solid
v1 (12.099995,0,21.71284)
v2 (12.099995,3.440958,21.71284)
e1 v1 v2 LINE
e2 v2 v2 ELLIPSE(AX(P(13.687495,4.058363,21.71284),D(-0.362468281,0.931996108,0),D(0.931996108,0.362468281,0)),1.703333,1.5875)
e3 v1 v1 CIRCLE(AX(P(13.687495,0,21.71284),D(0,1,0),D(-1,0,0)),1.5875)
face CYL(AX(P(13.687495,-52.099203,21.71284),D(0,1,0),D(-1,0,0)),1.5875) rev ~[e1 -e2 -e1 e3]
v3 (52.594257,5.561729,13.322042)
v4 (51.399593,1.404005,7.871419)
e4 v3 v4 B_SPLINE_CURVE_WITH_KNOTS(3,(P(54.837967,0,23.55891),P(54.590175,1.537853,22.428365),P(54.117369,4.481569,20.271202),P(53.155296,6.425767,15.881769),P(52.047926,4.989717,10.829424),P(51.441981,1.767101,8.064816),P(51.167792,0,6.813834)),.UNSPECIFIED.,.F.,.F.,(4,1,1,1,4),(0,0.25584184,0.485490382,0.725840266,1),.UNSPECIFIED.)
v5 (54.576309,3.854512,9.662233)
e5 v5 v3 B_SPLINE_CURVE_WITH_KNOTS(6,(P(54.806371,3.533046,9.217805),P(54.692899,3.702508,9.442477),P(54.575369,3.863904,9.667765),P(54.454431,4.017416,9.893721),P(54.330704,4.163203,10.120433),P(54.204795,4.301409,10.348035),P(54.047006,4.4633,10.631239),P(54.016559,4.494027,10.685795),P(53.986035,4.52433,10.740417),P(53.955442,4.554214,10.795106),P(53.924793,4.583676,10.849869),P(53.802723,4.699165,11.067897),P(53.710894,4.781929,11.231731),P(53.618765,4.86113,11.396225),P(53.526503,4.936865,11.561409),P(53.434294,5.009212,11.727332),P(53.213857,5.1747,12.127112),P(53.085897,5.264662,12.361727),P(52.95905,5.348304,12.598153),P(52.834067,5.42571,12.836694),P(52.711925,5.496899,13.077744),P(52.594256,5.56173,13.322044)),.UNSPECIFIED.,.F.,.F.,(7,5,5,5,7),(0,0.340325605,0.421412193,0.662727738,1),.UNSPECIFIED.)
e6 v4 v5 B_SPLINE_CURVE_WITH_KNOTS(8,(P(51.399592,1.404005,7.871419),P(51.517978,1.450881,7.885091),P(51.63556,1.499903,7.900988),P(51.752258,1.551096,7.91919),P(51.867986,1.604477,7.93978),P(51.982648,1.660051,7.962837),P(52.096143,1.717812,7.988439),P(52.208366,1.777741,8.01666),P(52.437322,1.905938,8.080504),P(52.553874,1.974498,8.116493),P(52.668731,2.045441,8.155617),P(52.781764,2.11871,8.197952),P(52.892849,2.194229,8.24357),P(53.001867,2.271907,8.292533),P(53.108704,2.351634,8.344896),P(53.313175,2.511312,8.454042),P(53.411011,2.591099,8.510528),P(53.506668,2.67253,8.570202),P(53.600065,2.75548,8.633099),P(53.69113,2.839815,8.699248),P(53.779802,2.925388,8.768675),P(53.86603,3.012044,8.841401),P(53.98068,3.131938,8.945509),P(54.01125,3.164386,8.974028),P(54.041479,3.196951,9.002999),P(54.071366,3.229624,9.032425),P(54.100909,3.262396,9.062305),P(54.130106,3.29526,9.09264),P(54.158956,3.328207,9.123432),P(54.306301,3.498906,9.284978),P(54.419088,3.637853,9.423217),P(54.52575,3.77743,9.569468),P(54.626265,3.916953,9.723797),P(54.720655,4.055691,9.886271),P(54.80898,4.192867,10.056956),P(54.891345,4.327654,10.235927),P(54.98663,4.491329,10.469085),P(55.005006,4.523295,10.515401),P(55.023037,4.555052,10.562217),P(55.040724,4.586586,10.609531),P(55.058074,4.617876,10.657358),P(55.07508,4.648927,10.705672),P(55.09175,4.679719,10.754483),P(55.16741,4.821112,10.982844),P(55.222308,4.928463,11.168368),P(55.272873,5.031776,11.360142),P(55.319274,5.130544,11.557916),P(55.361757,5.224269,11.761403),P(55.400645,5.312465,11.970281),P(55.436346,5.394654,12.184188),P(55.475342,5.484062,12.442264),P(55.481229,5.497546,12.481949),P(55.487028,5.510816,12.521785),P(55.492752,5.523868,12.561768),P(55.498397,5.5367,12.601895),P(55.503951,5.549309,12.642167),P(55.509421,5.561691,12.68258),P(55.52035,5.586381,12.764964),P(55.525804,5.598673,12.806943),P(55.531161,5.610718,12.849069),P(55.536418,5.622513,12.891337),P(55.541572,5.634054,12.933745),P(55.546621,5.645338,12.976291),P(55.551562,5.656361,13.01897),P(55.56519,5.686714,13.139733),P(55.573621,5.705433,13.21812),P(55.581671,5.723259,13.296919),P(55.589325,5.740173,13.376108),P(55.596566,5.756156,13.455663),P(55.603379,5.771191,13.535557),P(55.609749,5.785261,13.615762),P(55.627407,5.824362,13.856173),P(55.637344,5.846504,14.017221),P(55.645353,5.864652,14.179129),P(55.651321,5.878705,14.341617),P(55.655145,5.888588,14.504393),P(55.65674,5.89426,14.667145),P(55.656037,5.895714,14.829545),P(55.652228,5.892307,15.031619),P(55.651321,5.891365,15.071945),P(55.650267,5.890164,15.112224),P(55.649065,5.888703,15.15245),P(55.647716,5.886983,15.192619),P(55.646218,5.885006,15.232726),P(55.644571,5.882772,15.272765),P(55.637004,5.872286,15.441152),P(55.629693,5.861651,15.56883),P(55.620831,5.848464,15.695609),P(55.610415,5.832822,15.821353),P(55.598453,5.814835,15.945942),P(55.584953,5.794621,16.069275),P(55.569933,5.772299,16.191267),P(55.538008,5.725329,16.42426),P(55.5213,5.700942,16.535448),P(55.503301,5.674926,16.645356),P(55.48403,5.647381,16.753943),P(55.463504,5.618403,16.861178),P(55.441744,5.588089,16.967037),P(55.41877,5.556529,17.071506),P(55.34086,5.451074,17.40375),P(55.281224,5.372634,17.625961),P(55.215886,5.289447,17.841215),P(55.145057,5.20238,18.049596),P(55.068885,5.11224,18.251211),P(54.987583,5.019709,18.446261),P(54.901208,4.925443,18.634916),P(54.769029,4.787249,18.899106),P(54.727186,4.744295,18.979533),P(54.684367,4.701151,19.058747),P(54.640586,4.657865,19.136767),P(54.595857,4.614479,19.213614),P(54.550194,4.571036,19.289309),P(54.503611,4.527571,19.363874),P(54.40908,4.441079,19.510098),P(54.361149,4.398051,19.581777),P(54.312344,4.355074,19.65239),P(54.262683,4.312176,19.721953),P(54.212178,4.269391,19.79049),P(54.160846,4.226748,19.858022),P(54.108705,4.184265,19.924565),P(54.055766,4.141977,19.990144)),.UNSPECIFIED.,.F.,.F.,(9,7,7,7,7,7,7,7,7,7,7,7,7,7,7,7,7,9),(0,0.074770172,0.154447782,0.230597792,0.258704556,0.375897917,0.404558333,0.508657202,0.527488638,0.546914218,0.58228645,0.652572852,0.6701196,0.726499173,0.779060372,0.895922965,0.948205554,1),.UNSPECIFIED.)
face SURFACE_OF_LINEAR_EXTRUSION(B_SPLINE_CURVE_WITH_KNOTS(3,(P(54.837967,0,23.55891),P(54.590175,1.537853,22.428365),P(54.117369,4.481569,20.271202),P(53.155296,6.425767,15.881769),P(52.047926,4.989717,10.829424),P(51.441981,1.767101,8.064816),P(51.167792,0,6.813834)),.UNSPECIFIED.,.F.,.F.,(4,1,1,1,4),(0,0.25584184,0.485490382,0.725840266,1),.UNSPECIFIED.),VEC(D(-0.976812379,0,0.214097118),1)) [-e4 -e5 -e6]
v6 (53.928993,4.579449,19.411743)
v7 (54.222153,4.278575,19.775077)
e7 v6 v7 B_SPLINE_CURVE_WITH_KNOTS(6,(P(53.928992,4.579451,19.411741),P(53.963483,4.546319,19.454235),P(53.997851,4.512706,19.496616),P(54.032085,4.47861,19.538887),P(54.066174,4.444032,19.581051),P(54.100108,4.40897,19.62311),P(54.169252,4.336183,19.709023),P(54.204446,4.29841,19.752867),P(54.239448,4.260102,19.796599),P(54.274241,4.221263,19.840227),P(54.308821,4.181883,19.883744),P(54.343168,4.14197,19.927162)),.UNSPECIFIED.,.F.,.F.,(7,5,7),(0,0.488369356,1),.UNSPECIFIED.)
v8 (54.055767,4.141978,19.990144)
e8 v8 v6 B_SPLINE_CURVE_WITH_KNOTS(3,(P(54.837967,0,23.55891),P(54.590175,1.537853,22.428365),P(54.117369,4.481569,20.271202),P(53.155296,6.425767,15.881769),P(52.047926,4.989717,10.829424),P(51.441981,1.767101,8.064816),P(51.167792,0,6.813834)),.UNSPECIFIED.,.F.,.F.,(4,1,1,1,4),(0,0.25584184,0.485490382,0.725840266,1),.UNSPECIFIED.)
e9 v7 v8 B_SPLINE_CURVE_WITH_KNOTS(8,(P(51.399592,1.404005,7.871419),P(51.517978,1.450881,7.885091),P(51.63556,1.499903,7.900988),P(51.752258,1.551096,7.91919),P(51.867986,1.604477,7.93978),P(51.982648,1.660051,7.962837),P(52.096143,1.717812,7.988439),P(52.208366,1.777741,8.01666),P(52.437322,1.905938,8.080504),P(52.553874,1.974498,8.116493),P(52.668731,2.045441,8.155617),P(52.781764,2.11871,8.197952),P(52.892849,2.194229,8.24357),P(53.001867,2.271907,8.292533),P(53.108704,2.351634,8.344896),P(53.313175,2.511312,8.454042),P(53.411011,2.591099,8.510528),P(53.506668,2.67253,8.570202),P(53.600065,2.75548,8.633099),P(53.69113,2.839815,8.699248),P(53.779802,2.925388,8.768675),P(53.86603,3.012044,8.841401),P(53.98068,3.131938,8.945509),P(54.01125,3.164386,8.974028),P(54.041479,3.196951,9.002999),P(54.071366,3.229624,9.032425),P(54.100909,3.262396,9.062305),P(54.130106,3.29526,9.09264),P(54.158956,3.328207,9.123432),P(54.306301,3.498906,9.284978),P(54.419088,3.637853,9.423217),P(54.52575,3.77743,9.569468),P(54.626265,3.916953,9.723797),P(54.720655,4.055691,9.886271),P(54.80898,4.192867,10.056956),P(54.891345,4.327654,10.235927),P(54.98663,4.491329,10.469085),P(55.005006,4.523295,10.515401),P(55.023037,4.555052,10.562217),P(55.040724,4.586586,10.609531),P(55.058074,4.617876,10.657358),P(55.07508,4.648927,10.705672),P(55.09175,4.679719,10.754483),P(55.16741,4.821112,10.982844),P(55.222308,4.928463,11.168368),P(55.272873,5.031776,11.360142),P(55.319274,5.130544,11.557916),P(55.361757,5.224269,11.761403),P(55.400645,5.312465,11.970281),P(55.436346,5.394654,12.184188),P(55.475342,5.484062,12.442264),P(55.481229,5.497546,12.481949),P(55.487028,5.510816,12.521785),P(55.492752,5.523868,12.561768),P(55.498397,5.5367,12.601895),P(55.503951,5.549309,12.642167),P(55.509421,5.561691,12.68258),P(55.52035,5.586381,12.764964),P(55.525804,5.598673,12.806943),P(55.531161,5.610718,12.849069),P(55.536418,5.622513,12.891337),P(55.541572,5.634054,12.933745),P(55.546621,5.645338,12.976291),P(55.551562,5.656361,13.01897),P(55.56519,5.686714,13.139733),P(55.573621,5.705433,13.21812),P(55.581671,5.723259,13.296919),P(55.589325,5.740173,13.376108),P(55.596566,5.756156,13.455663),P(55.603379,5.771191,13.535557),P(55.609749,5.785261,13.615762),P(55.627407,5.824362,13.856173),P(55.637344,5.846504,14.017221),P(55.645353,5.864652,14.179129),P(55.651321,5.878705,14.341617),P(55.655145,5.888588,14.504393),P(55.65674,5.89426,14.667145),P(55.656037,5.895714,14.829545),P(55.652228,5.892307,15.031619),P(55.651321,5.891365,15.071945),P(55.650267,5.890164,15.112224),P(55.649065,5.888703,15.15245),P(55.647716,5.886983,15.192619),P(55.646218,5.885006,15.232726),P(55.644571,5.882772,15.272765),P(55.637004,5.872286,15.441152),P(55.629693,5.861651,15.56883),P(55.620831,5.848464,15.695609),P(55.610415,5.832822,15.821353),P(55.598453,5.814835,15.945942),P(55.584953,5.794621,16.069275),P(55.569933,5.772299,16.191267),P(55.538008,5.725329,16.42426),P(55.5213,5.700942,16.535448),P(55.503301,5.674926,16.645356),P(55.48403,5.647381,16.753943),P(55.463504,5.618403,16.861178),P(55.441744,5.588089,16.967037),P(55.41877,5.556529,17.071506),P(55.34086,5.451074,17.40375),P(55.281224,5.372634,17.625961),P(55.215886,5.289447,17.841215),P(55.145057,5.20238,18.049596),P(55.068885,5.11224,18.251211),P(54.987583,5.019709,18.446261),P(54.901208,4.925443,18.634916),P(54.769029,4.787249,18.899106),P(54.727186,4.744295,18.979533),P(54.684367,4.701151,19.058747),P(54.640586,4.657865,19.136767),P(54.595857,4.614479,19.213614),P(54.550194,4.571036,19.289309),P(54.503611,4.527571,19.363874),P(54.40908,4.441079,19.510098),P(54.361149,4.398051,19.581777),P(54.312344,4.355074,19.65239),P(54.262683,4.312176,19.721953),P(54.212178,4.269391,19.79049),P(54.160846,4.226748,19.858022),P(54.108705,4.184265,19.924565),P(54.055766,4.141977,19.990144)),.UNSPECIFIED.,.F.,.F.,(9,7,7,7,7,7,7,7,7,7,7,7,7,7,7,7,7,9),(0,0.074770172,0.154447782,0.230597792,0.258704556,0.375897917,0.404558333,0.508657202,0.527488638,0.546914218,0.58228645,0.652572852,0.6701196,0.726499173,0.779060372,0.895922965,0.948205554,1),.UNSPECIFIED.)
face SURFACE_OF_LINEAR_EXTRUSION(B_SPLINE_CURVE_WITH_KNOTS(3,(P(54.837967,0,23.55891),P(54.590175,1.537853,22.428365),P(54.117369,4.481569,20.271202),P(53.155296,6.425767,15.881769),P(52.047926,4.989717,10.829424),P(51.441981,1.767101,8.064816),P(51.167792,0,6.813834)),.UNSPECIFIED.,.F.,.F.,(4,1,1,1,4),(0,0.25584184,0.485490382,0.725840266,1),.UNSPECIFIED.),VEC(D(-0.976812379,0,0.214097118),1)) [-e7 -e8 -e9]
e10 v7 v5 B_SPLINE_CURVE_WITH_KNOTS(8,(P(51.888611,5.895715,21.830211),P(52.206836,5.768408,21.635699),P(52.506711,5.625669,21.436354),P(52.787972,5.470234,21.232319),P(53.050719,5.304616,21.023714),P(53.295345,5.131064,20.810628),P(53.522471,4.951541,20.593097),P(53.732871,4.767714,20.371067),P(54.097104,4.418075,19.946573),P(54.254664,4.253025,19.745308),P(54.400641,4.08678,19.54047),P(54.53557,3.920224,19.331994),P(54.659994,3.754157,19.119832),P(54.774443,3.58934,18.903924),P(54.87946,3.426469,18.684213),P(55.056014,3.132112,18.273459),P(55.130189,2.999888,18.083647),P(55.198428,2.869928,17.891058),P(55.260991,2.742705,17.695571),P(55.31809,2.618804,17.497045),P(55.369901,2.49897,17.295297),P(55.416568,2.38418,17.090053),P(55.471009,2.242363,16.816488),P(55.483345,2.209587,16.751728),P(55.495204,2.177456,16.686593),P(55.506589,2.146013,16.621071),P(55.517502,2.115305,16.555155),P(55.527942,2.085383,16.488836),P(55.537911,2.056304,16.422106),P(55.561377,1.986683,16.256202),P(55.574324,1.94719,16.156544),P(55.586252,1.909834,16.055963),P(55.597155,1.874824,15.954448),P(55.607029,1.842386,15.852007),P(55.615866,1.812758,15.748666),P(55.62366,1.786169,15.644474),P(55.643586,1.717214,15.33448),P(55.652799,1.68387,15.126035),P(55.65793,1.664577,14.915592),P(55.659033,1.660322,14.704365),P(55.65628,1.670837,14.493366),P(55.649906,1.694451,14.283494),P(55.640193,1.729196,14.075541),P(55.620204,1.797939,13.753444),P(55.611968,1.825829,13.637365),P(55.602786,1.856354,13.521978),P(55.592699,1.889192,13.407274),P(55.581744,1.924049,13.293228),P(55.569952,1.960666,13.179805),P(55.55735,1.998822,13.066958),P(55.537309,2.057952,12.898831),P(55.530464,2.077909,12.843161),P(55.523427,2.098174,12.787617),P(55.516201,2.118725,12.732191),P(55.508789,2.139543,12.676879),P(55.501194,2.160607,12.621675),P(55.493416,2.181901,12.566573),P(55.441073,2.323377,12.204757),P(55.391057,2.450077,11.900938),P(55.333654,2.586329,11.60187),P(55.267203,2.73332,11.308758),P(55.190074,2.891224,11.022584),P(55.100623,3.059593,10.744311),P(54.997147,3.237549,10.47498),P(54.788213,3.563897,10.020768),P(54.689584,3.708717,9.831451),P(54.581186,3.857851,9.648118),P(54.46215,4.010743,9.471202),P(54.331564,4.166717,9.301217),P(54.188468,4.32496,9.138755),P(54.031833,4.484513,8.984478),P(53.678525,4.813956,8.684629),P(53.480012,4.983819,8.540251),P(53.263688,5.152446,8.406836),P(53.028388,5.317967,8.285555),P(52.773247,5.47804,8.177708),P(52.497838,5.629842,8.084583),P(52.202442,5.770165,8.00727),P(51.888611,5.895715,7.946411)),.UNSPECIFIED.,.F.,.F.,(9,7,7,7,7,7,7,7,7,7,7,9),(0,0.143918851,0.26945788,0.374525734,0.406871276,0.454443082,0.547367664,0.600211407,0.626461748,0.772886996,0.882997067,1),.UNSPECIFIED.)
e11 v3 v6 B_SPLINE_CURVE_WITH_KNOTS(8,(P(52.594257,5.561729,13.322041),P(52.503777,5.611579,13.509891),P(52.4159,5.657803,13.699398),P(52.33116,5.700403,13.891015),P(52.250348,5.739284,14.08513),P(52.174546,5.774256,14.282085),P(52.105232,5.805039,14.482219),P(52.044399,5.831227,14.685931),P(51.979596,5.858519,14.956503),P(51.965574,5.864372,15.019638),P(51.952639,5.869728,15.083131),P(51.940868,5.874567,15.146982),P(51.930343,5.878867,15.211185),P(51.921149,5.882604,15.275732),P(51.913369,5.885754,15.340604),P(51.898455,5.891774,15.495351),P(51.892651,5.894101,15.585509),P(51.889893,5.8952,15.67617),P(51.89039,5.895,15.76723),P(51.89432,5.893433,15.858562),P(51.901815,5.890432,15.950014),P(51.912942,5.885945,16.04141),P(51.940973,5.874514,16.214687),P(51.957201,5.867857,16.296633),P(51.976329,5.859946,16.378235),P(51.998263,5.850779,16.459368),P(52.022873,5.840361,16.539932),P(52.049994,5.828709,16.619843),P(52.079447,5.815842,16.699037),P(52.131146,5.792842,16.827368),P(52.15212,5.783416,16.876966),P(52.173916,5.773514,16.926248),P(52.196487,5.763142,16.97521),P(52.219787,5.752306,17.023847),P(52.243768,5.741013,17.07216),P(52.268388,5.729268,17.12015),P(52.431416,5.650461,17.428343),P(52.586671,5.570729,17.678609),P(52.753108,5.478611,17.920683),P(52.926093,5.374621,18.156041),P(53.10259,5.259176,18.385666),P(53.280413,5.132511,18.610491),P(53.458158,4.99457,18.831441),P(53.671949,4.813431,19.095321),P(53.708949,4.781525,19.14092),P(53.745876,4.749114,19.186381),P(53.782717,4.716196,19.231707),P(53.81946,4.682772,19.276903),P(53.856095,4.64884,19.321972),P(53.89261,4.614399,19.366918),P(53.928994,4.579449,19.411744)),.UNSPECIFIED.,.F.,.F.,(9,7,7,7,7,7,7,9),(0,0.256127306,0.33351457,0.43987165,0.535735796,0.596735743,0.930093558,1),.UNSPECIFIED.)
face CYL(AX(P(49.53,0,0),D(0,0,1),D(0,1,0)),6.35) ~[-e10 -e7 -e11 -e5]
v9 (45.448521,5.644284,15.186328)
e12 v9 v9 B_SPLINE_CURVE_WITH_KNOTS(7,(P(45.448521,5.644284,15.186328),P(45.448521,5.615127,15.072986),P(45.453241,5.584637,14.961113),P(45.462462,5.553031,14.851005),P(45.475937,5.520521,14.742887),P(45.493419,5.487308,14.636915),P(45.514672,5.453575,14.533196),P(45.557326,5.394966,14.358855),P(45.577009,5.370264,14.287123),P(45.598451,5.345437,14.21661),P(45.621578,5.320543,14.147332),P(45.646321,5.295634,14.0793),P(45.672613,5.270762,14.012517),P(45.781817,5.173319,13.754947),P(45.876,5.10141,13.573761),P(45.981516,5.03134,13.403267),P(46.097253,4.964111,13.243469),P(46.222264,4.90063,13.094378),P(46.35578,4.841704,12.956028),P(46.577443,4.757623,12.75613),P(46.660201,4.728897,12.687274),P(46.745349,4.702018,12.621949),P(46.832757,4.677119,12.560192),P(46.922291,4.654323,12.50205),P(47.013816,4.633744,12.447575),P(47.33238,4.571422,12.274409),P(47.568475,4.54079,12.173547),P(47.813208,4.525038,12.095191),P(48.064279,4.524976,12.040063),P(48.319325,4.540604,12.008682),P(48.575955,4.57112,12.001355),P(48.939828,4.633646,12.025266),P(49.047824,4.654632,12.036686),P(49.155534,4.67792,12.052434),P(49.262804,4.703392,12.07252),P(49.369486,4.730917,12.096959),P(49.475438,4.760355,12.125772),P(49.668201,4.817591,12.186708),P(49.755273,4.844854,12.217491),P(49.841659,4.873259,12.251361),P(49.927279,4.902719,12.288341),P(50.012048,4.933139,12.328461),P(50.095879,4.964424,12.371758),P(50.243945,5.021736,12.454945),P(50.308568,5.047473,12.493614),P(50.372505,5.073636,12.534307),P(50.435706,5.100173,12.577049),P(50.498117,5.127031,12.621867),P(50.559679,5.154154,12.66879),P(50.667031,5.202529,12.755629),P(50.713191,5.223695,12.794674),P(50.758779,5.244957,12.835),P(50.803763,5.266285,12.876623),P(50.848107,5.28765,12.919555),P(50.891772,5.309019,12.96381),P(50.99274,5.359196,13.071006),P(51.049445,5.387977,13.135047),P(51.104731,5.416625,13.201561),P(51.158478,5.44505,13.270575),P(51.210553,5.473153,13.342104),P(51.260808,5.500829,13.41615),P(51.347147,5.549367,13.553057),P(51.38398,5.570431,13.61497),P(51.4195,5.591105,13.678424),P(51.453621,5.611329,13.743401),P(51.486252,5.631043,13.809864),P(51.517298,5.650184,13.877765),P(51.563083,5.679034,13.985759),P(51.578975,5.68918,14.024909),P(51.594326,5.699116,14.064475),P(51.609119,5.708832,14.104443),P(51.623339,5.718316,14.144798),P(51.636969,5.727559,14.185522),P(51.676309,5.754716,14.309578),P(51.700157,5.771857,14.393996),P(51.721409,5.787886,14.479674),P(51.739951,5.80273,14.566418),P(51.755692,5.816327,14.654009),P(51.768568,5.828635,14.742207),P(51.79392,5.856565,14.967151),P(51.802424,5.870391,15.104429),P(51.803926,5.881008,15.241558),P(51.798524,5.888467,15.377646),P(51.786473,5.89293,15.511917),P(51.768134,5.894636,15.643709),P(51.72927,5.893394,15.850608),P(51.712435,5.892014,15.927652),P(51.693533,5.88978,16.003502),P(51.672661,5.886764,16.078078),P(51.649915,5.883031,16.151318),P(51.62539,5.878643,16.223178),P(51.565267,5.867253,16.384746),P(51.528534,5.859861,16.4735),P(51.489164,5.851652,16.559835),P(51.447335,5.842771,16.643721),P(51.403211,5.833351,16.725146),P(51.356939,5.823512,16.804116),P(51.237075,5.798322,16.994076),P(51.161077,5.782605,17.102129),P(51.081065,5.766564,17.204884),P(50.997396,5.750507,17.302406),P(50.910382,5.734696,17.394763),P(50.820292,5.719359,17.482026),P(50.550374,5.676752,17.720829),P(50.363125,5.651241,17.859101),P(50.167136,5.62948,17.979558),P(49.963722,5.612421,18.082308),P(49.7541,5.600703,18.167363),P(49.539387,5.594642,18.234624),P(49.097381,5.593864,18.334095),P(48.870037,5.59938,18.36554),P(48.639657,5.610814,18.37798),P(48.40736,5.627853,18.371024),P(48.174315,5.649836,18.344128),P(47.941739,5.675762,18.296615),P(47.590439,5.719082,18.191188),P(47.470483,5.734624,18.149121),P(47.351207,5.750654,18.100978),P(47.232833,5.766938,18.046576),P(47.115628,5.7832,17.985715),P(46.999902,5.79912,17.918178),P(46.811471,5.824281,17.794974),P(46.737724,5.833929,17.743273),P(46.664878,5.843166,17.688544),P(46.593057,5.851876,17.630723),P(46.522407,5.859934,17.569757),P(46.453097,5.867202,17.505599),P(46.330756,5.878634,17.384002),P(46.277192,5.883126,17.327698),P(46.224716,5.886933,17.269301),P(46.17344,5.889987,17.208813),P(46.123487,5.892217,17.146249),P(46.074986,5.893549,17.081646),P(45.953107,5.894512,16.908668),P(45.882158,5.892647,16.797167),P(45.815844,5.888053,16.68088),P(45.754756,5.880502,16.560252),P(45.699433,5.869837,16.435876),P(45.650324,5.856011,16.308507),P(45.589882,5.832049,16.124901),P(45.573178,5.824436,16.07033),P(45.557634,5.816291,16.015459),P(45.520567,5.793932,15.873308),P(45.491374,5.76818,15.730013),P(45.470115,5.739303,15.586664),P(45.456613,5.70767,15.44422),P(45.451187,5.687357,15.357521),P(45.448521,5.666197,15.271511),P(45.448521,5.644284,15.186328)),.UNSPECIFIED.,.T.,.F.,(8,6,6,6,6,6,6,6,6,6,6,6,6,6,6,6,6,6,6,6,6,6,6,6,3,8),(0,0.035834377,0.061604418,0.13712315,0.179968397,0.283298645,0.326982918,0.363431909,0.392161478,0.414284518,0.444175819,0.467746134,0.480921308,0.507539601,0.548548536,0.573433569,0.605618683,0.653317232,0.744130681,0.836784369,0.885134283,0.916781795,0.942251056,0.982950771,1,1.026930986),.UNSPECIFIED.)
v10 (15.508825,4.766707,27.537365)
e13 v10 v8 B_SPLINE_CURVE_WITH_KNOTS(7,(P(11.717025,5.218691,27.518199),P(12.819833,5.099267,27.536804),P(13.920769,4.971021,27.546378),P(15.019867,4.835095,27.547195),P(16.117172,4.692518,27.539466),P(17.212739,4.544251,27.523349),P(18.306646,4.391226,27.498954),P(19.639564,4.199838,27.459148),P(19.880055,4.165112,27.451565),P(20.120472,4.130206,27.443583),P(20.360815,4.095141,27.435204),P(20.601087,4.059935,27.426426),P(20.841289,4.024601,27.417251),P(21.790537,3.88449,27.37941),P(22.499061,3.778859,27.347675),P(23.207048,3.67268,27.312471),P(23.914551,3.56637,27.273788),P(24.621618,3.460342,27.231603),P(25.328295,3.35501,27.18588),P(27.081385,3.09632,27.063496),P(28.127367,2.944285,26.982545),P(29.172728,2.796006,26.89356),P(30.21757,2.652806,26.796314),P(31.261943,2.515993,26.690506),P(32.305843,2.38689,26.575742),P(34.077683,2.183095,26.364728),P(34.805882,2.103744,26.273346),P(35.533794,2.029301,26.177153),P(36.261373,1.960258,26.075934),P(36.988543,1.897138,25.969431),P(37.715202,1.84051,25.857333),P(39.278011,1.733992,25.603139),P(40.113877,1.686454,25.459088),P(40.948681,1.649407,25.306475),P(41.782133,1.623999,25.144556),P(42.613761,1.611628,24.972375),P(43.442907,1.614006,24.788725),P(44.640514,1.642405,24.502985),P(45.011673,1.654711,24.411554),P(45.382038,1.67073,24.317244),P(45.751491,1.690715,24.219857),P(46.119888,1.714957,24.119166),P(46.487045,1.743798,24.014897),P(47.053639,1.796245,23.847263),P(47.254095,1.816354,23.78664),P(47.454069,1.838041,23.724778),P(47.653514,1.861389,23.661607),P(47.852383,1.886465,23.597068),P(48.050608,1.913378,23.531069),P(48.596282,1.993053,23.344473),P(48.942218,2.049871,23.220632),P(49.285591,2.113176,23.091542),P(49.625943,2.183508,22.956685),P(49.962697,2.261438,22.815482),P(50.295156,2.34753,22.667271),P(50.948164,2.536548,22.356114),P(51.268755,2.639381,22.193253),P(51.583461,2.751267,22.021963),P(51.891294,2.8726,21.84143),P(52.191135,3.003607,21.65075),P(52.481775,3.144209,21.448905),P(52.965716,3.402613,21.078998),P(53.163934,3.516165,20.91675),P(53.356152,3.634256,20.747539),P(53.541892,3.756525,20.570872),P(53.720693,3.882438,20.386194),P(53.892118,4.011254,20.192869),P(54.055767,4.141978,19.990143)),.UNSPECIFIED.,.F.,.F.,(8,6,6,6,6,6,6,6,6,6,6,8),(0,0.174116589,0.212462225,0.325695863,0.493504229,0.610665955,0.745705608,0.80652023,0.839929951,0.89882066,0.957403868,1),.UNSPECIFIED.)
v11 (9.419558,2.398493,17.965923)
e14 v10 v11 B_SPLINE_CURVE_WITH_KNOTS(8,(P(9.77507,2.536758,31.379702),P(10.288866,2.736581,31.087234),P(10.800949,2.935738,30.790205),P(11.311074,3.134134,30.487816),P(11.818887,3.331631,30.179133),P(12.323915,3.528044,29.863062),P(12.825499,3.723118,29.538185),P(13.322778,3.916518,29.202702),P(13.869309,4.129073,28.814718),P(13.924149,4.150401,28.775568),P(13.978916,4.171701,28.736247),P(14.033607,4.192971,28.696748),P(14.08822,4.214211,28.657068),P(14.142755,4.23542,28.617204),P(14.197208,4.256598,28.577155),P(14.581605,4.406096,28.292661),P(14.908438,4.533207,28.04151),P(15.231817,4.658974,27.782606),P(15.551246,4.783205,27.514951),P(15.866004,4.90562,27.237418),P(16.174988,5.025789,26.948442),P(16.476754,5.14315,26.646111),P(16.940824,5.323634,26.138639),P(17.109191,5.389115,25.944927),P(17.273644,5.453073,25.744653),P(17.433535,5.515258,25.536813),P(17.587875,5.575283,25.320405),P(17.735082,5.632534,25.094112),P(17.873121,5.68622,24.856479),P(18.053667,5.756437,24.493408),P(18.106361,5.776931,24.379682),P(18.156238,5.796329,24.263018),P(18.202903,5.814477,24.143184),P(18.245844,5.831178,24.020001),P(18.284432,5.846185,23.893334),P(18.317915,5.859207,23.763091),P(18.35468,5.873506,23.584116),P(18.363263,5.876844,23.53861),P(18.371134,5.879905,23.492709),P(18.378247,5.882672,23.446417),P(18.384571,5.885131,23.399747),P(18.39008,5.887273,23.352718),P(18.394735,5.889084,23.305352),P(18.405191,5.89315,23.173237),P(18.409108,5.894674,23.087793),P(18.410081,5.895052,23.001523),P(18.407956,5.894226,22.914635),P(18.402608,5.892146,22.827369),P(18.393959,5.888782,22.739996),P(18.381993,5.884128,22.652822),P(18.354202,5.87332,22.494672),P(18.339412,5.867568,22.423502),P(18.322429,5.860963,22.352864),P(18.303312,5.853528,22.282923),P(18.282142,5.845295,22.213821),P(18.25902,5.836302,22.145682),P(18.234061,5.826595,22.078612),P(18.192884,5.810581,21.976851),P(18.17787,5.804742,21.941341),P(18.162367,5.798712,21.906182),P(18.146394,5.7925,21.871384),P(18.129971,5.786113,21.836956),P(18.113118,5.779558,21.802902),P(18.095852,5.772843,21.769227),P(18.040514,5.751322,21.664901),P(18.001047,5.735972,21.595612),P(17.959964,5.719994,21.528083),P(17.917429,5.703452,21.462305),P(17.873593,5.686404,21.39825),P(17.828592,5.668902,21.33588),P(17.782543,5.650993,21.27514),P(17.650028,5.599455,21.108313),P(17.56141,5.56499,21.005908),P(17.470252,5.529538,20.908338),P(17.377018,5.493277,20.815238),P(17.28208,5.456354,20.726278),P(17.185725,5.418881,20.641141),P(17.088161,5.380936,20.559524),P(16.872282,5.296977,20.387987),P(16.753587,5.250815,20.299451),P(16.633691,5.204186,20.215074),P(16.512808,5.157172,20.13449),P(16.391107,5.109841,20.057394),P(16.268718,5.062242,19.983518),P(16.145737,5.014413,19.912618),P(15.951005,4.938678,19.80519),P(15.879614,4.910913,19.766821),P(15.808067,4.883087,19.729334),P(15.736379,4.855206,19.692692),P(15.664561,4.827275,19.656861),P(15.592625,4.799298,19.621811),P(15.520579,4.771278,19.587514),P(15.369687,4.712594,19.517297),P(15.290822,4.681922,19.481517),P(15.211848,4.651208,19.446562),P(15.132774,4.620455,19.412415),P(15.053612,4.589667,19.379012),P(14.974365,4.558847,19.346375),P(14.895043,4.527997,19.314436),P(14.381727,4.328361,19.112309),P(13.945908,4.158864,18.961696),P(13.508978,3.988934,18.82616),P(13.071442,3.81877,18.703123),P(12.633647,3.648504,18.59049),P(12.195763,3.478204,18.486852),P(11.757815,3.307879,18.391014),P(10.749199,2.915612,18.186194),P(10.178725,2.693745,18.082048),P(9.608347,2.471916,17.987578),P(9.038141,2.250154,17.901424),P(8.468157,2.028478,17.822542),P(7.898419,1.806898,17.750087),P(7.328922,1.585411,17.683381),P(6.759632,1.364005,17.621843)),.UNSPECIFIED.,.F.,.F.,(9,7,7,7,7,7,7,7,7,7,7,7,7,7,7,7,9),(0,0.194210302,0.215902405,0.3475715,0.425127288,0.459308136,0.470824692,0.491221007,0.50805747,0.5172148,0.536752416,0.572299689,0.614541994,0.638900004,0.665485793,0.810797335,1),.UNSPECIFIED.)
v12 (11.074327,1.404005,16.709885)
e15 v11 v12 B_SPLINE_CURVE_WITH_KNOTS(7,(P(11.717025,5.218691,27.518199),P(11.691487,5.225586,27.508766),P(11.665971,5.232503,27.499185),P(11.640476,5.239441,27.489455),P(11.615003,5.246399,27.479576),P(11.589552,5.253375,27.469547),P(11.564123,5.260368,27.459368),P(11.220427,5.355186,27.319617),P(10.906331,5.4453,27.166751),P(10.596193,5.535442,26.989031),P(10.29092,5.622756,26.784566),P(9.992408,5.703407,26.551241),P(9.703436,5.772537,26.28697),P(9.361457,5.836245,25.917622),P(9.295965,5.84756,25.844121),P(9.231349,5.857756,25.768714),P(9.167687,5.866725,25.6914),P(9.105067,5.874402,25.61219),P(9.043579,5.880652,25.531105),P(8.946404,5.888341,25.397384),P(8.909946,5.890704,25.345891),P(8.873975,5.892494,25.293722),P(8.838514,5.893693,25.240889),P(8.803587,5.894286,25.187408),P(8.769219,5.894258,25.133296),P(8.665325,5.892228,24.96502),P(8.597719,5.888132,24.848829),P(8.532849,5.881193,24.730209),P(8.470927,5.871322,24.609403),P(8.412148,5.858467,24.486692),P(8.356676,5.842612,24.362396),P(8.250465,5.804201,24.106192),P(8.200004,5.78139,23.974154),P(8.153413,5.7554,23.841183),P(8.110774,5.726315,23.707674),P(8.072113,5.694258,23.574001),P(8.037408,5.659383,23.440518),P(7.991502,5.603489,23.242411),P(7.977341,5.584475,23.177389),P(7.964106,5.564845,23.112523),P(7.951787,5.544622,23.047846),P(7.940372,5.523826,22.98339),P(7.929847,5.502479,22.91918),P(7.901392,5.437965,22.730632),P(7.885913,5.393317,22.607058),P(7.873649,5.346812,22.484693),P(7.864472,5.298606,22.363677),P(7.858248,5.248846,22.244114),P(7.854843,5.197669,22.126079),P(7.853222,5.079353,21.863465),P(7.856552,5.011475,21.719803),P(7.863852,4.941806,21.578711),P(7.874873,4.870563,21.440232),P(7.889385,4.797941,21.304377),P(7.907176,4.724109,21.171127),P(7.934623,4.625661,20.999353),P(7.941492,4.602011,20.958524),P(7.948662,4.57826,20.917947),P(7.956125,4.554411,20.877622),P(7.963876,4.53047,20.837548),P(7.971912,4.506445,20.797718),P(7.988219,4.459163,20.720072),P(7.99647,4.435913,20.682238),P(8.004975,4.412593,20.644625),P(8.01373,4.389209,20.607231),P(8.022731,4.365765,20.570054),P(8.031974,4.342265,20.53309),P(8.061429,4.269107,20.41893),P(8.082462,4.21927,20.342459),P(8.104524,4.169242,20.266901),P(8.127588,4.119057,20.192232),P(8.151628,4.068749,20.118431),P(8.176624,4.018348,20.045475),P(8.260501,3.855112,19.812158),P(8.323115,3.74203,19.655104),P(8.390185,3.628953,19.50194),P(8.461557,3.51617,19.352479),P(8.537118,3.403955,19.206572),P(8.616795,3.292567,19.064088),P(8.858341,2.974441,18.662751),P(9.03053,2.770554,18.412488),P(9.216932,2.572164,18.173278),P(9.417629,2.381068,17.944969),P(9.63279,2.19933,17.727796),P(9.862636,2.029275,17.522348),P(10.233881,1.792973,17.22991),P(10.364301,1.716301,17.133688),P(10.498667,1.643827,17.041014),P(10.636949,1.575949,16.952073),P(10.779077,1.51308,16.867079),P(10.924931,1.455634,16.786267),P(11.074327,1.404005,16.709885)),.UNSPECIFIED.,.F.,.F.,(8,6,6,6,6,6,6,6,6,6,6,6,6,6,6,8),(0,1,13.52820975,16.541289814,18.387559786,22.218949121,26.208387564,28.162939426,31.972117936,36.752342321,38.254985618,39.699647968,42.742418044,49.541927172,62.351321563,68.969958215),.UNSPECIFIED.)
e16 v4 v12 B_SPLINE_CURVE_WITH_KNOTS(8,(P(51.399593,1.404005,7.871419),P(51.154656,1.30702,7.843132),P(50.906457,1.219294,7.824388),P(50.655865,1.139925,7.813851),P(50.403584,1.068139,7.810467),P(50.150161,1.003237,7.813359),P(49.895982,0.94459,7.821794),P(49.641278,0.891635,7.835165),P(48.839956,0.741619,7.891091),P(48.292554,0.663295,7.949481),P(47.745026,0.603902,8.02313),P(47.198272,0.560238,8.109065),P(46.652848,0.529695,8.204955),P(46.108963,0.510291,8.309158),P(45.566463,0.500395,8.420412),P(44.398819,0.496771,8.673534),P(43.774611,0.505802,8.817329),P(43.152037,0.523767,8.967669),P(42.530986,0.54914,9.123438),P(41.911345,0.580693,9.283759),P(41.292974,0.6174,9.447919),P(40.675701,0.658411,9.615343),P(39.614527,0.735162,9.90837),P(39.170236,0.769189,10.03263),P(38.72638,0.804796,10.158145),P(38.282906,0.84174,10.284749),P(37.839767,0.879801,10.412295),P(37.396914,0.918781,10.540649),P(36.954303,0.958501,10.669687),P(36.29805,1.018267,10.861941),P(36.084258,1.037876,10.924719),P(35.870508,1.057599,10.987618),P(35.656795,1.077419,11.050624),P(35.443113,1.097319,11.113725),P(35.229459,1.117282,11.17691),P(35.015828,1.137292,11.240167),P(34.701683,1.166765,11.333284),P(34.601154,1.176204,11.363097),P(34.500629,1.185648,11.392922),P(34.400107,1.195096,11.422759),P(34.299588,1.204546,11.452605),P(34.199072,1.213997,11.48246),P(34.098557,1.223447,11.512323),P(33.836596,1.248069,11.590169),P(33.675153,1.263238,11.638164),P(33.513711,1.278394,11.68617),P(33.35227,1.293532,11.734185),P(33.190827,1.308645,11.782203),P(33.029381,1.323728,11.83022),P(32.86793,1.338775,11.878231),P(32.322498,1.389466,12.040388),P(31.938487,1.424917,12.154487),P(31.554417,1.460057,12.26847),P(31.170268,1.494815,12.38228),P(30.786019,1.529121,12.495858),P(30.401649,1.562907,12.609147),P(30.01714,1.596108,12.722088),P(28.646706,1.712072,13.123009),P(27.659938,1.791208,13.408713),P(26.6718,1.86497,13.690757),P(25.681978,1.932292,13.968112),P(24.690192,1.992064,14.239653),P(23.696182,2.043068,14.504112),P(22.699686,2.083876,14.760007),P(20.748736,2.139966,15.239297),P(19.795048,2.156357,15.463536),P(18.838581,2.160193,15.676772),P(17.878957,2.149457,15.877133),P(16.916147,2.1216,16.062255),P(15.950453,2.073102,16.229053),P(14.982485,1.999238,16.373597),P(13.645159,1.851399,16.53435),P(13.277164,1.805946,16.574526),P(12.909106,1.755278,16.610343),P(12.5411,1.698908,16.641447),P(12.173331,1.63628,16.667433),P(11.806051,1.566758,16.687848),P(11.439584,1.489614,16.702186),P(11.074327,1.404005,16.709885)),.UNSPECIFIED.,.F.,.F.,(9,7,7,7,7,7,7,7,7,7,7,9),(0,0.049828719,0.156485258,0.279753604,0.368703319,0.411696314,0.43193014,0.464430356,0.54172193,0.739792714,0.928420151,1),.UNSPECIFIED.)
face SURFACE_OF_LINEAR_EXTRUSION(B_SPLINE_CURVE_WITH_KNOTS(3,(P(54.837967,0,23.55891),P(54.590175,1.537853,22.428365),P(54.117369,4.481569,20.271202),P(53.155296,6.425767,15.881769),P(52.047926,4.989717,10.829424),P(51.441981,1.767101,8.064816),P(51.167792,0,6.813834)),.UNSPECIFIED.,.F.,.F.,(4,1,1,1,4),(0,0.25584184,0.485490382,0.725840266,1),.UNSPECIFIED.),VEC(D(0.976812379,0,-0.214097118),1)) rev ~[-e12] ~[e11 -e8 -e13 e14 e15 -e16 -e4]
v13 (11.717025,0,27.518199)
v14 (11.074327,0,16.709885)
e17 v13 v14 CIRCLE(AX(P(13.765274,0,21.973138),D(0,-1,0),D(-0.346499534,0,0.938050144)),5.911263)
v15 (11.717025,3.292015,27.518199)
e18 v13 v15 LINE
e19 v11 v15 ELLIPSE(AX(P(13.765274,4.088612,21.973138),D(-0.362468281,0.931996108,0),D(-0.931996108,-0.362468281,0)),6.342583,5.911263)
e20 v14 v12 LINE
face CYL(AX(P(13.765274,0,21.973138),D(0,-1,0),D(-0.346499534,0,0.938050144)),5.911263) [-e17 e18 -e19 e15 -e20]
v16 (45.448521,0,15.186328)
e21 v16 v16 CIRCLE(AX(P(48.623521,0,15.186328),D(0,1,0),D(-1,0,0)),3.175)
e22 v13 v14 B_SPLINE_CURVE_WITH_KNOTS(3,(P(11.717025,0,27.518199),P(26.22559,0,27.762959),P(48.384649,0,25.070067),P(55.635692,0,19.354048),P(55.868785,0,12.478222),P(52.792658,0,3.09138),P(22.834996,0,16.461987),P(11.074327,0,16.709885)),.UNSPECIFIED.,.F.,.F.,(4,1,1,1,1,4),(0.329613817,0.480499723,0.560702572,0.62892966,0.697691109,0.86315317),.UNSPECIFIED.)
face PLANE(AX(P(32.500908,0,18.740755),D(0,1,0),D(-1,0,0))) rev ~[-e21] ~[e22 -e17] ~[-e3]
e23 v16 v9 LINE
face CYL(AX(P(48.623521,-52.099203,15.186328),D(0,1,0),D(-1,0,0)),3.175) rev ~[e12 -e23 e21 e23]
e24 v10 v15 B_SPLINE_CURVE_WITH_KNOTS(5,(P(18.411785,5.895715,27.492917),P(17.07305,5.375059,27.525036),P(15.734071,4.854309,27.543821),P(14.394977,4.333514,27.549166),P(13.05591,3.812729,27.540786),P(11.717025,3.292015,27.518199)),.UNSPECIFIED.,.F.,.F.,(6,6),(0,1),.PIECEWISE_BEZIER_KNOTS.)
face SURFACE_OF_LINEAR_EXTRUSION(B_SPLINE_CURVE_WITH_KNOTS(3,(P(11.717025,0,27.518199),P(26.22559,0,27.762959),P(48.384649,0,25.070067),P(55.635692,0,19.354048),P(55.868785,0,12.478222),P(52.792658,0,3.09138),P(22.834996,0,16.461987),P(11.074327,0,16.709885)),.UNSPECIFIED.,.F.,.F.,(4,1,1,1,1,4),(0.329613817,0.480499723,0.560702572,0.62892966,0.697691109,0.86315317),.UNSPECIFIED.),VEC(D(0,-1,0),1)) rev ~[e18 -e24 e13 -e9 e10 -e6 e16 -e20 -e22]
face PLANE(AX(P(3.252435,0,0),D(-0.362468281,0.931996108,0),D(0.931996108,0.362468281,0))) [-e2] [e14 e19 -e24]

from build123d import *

# Parameters (mm, degrees)
F1_DEPTH = 6.35
F2_D     = 6.35
F3_D     = 3.175
F6_DEPTH = 63.5
F8_DEPTH = 38.1


with BuildPart() as f1:
    # F0 (on Front) → F1 (new body)
    with BuildSketch(Plane.XZ):
        with BuildLine():
            add(Edge.make_bspline(
                [(11.7170246186, 27.5181992918), (26.2255903847, 27.7629586116), (48.3846492687, 25.0700674705), (55.6356924136, 19.3540475045), (55.8687851234, 12.478221614), (52.7926576137, 3.0913798232), (22.8349964924, 16.4619868897), (11.0743273574, 16.709885222)],
                knots=[0.3296138166, 0.3296138166, 0.3296138166, 0.3296138166, 0.480499723, 0.5607025722, 0.6289296599, 0.6976911092, 0.8631531697, 0.8631531697, 0.8631531697, 0.8631531697], degree=3))
            ThreePointArc((11.7170246186, 27.5181992918), (7.864434674, 22.32402127), (11.0743273574, 16.709885222))
        make_face()
    extrude(amount=-F1_DEPTH)

    # F2 (through all)
    with Locations(Plane.XZ):
        with Locations((48.6235208809, 15.1863284409)):
            Hole(F2_D / 2)

    # F3 (through all)
    with Locations(Plane.XZ):
        with Locations((13.6874951422, 21.7128396034)):
            Hole(F3_D / 2)

    # F5 (on face) → F6 (cut, symmetric)
    with BuildSketch(Plane(origin=(47.3973885527, 0, -10.3885295862), x_dir=(0, -1, 0), z_dir=(-0.9768123791, 0, 0.2140971182))):
        with BuildLine():
            Line((0, 16.6775155813), (0, 17.6107138395))
            add(Edge.make_bspline(
                [(0, 34.7532853484), (-1.5378532055, 33.5959036458), (-4.4815687566, 31.3875342093), (-6.4257674751, 26.8939046891), (-4.9897171526, 21.721626127), (-1.7671005847, 18.8913922435), (0, 17.6107138395)],
                knots=[0, 0, 0, 0, 0.2558418404, 0.4854903825, 0.725840266, 1, 1, 1, 1], degree=3))
            Line((0, 34.7532853484), (0, 37.0723327391))
            Line((0, 37.0723327391), (-13.2649885491, 37.0723327391))
            Line((-13.2649885491, 37.0723327391), (-13.2649885491, 16.6775155813))
            Line((-13.2649885491, 16.6775155813), (-13.2639063522, 16.6775155813))
            Line((-13.2639063522, 16.6775155813), (0, 16.6775155813))
        make_face()
    extrude(amount=F6_DEPTH, both=True, mode=Mode.SUBTRACT)

    # F7 (on Top) → F8 (cut, symmetric)
    with BuildSketch(Plane.XY):
        Polygon((0, 0), (3.2524354756, 0), (21.9712223362, 7.280037362), (21.9004824758, 10.5176325887), (16.7136751115, 10.5176325887), (0, 10.5176325887), align=None)
        with BuildLine():
            ThreePointArc((49.53, 6.35), (54.0201280605, 4.4901280605), (55.88, 0))
            Line((55.88, 0), (57.8722134233, 0))
            Line((57.8722134233, 0), (57.8722134233, 8.8483812287))
            Line((57.8722134233, 8.8483812287), (49.53, 8.8483812287))
            Line((49.53, 8.8483812287), (49.53, 6.35))
        make_face()
    extrude(amount=F8_DEPTH, both=True, mode=Mode.SUBTRACT)


solid = f1.part
